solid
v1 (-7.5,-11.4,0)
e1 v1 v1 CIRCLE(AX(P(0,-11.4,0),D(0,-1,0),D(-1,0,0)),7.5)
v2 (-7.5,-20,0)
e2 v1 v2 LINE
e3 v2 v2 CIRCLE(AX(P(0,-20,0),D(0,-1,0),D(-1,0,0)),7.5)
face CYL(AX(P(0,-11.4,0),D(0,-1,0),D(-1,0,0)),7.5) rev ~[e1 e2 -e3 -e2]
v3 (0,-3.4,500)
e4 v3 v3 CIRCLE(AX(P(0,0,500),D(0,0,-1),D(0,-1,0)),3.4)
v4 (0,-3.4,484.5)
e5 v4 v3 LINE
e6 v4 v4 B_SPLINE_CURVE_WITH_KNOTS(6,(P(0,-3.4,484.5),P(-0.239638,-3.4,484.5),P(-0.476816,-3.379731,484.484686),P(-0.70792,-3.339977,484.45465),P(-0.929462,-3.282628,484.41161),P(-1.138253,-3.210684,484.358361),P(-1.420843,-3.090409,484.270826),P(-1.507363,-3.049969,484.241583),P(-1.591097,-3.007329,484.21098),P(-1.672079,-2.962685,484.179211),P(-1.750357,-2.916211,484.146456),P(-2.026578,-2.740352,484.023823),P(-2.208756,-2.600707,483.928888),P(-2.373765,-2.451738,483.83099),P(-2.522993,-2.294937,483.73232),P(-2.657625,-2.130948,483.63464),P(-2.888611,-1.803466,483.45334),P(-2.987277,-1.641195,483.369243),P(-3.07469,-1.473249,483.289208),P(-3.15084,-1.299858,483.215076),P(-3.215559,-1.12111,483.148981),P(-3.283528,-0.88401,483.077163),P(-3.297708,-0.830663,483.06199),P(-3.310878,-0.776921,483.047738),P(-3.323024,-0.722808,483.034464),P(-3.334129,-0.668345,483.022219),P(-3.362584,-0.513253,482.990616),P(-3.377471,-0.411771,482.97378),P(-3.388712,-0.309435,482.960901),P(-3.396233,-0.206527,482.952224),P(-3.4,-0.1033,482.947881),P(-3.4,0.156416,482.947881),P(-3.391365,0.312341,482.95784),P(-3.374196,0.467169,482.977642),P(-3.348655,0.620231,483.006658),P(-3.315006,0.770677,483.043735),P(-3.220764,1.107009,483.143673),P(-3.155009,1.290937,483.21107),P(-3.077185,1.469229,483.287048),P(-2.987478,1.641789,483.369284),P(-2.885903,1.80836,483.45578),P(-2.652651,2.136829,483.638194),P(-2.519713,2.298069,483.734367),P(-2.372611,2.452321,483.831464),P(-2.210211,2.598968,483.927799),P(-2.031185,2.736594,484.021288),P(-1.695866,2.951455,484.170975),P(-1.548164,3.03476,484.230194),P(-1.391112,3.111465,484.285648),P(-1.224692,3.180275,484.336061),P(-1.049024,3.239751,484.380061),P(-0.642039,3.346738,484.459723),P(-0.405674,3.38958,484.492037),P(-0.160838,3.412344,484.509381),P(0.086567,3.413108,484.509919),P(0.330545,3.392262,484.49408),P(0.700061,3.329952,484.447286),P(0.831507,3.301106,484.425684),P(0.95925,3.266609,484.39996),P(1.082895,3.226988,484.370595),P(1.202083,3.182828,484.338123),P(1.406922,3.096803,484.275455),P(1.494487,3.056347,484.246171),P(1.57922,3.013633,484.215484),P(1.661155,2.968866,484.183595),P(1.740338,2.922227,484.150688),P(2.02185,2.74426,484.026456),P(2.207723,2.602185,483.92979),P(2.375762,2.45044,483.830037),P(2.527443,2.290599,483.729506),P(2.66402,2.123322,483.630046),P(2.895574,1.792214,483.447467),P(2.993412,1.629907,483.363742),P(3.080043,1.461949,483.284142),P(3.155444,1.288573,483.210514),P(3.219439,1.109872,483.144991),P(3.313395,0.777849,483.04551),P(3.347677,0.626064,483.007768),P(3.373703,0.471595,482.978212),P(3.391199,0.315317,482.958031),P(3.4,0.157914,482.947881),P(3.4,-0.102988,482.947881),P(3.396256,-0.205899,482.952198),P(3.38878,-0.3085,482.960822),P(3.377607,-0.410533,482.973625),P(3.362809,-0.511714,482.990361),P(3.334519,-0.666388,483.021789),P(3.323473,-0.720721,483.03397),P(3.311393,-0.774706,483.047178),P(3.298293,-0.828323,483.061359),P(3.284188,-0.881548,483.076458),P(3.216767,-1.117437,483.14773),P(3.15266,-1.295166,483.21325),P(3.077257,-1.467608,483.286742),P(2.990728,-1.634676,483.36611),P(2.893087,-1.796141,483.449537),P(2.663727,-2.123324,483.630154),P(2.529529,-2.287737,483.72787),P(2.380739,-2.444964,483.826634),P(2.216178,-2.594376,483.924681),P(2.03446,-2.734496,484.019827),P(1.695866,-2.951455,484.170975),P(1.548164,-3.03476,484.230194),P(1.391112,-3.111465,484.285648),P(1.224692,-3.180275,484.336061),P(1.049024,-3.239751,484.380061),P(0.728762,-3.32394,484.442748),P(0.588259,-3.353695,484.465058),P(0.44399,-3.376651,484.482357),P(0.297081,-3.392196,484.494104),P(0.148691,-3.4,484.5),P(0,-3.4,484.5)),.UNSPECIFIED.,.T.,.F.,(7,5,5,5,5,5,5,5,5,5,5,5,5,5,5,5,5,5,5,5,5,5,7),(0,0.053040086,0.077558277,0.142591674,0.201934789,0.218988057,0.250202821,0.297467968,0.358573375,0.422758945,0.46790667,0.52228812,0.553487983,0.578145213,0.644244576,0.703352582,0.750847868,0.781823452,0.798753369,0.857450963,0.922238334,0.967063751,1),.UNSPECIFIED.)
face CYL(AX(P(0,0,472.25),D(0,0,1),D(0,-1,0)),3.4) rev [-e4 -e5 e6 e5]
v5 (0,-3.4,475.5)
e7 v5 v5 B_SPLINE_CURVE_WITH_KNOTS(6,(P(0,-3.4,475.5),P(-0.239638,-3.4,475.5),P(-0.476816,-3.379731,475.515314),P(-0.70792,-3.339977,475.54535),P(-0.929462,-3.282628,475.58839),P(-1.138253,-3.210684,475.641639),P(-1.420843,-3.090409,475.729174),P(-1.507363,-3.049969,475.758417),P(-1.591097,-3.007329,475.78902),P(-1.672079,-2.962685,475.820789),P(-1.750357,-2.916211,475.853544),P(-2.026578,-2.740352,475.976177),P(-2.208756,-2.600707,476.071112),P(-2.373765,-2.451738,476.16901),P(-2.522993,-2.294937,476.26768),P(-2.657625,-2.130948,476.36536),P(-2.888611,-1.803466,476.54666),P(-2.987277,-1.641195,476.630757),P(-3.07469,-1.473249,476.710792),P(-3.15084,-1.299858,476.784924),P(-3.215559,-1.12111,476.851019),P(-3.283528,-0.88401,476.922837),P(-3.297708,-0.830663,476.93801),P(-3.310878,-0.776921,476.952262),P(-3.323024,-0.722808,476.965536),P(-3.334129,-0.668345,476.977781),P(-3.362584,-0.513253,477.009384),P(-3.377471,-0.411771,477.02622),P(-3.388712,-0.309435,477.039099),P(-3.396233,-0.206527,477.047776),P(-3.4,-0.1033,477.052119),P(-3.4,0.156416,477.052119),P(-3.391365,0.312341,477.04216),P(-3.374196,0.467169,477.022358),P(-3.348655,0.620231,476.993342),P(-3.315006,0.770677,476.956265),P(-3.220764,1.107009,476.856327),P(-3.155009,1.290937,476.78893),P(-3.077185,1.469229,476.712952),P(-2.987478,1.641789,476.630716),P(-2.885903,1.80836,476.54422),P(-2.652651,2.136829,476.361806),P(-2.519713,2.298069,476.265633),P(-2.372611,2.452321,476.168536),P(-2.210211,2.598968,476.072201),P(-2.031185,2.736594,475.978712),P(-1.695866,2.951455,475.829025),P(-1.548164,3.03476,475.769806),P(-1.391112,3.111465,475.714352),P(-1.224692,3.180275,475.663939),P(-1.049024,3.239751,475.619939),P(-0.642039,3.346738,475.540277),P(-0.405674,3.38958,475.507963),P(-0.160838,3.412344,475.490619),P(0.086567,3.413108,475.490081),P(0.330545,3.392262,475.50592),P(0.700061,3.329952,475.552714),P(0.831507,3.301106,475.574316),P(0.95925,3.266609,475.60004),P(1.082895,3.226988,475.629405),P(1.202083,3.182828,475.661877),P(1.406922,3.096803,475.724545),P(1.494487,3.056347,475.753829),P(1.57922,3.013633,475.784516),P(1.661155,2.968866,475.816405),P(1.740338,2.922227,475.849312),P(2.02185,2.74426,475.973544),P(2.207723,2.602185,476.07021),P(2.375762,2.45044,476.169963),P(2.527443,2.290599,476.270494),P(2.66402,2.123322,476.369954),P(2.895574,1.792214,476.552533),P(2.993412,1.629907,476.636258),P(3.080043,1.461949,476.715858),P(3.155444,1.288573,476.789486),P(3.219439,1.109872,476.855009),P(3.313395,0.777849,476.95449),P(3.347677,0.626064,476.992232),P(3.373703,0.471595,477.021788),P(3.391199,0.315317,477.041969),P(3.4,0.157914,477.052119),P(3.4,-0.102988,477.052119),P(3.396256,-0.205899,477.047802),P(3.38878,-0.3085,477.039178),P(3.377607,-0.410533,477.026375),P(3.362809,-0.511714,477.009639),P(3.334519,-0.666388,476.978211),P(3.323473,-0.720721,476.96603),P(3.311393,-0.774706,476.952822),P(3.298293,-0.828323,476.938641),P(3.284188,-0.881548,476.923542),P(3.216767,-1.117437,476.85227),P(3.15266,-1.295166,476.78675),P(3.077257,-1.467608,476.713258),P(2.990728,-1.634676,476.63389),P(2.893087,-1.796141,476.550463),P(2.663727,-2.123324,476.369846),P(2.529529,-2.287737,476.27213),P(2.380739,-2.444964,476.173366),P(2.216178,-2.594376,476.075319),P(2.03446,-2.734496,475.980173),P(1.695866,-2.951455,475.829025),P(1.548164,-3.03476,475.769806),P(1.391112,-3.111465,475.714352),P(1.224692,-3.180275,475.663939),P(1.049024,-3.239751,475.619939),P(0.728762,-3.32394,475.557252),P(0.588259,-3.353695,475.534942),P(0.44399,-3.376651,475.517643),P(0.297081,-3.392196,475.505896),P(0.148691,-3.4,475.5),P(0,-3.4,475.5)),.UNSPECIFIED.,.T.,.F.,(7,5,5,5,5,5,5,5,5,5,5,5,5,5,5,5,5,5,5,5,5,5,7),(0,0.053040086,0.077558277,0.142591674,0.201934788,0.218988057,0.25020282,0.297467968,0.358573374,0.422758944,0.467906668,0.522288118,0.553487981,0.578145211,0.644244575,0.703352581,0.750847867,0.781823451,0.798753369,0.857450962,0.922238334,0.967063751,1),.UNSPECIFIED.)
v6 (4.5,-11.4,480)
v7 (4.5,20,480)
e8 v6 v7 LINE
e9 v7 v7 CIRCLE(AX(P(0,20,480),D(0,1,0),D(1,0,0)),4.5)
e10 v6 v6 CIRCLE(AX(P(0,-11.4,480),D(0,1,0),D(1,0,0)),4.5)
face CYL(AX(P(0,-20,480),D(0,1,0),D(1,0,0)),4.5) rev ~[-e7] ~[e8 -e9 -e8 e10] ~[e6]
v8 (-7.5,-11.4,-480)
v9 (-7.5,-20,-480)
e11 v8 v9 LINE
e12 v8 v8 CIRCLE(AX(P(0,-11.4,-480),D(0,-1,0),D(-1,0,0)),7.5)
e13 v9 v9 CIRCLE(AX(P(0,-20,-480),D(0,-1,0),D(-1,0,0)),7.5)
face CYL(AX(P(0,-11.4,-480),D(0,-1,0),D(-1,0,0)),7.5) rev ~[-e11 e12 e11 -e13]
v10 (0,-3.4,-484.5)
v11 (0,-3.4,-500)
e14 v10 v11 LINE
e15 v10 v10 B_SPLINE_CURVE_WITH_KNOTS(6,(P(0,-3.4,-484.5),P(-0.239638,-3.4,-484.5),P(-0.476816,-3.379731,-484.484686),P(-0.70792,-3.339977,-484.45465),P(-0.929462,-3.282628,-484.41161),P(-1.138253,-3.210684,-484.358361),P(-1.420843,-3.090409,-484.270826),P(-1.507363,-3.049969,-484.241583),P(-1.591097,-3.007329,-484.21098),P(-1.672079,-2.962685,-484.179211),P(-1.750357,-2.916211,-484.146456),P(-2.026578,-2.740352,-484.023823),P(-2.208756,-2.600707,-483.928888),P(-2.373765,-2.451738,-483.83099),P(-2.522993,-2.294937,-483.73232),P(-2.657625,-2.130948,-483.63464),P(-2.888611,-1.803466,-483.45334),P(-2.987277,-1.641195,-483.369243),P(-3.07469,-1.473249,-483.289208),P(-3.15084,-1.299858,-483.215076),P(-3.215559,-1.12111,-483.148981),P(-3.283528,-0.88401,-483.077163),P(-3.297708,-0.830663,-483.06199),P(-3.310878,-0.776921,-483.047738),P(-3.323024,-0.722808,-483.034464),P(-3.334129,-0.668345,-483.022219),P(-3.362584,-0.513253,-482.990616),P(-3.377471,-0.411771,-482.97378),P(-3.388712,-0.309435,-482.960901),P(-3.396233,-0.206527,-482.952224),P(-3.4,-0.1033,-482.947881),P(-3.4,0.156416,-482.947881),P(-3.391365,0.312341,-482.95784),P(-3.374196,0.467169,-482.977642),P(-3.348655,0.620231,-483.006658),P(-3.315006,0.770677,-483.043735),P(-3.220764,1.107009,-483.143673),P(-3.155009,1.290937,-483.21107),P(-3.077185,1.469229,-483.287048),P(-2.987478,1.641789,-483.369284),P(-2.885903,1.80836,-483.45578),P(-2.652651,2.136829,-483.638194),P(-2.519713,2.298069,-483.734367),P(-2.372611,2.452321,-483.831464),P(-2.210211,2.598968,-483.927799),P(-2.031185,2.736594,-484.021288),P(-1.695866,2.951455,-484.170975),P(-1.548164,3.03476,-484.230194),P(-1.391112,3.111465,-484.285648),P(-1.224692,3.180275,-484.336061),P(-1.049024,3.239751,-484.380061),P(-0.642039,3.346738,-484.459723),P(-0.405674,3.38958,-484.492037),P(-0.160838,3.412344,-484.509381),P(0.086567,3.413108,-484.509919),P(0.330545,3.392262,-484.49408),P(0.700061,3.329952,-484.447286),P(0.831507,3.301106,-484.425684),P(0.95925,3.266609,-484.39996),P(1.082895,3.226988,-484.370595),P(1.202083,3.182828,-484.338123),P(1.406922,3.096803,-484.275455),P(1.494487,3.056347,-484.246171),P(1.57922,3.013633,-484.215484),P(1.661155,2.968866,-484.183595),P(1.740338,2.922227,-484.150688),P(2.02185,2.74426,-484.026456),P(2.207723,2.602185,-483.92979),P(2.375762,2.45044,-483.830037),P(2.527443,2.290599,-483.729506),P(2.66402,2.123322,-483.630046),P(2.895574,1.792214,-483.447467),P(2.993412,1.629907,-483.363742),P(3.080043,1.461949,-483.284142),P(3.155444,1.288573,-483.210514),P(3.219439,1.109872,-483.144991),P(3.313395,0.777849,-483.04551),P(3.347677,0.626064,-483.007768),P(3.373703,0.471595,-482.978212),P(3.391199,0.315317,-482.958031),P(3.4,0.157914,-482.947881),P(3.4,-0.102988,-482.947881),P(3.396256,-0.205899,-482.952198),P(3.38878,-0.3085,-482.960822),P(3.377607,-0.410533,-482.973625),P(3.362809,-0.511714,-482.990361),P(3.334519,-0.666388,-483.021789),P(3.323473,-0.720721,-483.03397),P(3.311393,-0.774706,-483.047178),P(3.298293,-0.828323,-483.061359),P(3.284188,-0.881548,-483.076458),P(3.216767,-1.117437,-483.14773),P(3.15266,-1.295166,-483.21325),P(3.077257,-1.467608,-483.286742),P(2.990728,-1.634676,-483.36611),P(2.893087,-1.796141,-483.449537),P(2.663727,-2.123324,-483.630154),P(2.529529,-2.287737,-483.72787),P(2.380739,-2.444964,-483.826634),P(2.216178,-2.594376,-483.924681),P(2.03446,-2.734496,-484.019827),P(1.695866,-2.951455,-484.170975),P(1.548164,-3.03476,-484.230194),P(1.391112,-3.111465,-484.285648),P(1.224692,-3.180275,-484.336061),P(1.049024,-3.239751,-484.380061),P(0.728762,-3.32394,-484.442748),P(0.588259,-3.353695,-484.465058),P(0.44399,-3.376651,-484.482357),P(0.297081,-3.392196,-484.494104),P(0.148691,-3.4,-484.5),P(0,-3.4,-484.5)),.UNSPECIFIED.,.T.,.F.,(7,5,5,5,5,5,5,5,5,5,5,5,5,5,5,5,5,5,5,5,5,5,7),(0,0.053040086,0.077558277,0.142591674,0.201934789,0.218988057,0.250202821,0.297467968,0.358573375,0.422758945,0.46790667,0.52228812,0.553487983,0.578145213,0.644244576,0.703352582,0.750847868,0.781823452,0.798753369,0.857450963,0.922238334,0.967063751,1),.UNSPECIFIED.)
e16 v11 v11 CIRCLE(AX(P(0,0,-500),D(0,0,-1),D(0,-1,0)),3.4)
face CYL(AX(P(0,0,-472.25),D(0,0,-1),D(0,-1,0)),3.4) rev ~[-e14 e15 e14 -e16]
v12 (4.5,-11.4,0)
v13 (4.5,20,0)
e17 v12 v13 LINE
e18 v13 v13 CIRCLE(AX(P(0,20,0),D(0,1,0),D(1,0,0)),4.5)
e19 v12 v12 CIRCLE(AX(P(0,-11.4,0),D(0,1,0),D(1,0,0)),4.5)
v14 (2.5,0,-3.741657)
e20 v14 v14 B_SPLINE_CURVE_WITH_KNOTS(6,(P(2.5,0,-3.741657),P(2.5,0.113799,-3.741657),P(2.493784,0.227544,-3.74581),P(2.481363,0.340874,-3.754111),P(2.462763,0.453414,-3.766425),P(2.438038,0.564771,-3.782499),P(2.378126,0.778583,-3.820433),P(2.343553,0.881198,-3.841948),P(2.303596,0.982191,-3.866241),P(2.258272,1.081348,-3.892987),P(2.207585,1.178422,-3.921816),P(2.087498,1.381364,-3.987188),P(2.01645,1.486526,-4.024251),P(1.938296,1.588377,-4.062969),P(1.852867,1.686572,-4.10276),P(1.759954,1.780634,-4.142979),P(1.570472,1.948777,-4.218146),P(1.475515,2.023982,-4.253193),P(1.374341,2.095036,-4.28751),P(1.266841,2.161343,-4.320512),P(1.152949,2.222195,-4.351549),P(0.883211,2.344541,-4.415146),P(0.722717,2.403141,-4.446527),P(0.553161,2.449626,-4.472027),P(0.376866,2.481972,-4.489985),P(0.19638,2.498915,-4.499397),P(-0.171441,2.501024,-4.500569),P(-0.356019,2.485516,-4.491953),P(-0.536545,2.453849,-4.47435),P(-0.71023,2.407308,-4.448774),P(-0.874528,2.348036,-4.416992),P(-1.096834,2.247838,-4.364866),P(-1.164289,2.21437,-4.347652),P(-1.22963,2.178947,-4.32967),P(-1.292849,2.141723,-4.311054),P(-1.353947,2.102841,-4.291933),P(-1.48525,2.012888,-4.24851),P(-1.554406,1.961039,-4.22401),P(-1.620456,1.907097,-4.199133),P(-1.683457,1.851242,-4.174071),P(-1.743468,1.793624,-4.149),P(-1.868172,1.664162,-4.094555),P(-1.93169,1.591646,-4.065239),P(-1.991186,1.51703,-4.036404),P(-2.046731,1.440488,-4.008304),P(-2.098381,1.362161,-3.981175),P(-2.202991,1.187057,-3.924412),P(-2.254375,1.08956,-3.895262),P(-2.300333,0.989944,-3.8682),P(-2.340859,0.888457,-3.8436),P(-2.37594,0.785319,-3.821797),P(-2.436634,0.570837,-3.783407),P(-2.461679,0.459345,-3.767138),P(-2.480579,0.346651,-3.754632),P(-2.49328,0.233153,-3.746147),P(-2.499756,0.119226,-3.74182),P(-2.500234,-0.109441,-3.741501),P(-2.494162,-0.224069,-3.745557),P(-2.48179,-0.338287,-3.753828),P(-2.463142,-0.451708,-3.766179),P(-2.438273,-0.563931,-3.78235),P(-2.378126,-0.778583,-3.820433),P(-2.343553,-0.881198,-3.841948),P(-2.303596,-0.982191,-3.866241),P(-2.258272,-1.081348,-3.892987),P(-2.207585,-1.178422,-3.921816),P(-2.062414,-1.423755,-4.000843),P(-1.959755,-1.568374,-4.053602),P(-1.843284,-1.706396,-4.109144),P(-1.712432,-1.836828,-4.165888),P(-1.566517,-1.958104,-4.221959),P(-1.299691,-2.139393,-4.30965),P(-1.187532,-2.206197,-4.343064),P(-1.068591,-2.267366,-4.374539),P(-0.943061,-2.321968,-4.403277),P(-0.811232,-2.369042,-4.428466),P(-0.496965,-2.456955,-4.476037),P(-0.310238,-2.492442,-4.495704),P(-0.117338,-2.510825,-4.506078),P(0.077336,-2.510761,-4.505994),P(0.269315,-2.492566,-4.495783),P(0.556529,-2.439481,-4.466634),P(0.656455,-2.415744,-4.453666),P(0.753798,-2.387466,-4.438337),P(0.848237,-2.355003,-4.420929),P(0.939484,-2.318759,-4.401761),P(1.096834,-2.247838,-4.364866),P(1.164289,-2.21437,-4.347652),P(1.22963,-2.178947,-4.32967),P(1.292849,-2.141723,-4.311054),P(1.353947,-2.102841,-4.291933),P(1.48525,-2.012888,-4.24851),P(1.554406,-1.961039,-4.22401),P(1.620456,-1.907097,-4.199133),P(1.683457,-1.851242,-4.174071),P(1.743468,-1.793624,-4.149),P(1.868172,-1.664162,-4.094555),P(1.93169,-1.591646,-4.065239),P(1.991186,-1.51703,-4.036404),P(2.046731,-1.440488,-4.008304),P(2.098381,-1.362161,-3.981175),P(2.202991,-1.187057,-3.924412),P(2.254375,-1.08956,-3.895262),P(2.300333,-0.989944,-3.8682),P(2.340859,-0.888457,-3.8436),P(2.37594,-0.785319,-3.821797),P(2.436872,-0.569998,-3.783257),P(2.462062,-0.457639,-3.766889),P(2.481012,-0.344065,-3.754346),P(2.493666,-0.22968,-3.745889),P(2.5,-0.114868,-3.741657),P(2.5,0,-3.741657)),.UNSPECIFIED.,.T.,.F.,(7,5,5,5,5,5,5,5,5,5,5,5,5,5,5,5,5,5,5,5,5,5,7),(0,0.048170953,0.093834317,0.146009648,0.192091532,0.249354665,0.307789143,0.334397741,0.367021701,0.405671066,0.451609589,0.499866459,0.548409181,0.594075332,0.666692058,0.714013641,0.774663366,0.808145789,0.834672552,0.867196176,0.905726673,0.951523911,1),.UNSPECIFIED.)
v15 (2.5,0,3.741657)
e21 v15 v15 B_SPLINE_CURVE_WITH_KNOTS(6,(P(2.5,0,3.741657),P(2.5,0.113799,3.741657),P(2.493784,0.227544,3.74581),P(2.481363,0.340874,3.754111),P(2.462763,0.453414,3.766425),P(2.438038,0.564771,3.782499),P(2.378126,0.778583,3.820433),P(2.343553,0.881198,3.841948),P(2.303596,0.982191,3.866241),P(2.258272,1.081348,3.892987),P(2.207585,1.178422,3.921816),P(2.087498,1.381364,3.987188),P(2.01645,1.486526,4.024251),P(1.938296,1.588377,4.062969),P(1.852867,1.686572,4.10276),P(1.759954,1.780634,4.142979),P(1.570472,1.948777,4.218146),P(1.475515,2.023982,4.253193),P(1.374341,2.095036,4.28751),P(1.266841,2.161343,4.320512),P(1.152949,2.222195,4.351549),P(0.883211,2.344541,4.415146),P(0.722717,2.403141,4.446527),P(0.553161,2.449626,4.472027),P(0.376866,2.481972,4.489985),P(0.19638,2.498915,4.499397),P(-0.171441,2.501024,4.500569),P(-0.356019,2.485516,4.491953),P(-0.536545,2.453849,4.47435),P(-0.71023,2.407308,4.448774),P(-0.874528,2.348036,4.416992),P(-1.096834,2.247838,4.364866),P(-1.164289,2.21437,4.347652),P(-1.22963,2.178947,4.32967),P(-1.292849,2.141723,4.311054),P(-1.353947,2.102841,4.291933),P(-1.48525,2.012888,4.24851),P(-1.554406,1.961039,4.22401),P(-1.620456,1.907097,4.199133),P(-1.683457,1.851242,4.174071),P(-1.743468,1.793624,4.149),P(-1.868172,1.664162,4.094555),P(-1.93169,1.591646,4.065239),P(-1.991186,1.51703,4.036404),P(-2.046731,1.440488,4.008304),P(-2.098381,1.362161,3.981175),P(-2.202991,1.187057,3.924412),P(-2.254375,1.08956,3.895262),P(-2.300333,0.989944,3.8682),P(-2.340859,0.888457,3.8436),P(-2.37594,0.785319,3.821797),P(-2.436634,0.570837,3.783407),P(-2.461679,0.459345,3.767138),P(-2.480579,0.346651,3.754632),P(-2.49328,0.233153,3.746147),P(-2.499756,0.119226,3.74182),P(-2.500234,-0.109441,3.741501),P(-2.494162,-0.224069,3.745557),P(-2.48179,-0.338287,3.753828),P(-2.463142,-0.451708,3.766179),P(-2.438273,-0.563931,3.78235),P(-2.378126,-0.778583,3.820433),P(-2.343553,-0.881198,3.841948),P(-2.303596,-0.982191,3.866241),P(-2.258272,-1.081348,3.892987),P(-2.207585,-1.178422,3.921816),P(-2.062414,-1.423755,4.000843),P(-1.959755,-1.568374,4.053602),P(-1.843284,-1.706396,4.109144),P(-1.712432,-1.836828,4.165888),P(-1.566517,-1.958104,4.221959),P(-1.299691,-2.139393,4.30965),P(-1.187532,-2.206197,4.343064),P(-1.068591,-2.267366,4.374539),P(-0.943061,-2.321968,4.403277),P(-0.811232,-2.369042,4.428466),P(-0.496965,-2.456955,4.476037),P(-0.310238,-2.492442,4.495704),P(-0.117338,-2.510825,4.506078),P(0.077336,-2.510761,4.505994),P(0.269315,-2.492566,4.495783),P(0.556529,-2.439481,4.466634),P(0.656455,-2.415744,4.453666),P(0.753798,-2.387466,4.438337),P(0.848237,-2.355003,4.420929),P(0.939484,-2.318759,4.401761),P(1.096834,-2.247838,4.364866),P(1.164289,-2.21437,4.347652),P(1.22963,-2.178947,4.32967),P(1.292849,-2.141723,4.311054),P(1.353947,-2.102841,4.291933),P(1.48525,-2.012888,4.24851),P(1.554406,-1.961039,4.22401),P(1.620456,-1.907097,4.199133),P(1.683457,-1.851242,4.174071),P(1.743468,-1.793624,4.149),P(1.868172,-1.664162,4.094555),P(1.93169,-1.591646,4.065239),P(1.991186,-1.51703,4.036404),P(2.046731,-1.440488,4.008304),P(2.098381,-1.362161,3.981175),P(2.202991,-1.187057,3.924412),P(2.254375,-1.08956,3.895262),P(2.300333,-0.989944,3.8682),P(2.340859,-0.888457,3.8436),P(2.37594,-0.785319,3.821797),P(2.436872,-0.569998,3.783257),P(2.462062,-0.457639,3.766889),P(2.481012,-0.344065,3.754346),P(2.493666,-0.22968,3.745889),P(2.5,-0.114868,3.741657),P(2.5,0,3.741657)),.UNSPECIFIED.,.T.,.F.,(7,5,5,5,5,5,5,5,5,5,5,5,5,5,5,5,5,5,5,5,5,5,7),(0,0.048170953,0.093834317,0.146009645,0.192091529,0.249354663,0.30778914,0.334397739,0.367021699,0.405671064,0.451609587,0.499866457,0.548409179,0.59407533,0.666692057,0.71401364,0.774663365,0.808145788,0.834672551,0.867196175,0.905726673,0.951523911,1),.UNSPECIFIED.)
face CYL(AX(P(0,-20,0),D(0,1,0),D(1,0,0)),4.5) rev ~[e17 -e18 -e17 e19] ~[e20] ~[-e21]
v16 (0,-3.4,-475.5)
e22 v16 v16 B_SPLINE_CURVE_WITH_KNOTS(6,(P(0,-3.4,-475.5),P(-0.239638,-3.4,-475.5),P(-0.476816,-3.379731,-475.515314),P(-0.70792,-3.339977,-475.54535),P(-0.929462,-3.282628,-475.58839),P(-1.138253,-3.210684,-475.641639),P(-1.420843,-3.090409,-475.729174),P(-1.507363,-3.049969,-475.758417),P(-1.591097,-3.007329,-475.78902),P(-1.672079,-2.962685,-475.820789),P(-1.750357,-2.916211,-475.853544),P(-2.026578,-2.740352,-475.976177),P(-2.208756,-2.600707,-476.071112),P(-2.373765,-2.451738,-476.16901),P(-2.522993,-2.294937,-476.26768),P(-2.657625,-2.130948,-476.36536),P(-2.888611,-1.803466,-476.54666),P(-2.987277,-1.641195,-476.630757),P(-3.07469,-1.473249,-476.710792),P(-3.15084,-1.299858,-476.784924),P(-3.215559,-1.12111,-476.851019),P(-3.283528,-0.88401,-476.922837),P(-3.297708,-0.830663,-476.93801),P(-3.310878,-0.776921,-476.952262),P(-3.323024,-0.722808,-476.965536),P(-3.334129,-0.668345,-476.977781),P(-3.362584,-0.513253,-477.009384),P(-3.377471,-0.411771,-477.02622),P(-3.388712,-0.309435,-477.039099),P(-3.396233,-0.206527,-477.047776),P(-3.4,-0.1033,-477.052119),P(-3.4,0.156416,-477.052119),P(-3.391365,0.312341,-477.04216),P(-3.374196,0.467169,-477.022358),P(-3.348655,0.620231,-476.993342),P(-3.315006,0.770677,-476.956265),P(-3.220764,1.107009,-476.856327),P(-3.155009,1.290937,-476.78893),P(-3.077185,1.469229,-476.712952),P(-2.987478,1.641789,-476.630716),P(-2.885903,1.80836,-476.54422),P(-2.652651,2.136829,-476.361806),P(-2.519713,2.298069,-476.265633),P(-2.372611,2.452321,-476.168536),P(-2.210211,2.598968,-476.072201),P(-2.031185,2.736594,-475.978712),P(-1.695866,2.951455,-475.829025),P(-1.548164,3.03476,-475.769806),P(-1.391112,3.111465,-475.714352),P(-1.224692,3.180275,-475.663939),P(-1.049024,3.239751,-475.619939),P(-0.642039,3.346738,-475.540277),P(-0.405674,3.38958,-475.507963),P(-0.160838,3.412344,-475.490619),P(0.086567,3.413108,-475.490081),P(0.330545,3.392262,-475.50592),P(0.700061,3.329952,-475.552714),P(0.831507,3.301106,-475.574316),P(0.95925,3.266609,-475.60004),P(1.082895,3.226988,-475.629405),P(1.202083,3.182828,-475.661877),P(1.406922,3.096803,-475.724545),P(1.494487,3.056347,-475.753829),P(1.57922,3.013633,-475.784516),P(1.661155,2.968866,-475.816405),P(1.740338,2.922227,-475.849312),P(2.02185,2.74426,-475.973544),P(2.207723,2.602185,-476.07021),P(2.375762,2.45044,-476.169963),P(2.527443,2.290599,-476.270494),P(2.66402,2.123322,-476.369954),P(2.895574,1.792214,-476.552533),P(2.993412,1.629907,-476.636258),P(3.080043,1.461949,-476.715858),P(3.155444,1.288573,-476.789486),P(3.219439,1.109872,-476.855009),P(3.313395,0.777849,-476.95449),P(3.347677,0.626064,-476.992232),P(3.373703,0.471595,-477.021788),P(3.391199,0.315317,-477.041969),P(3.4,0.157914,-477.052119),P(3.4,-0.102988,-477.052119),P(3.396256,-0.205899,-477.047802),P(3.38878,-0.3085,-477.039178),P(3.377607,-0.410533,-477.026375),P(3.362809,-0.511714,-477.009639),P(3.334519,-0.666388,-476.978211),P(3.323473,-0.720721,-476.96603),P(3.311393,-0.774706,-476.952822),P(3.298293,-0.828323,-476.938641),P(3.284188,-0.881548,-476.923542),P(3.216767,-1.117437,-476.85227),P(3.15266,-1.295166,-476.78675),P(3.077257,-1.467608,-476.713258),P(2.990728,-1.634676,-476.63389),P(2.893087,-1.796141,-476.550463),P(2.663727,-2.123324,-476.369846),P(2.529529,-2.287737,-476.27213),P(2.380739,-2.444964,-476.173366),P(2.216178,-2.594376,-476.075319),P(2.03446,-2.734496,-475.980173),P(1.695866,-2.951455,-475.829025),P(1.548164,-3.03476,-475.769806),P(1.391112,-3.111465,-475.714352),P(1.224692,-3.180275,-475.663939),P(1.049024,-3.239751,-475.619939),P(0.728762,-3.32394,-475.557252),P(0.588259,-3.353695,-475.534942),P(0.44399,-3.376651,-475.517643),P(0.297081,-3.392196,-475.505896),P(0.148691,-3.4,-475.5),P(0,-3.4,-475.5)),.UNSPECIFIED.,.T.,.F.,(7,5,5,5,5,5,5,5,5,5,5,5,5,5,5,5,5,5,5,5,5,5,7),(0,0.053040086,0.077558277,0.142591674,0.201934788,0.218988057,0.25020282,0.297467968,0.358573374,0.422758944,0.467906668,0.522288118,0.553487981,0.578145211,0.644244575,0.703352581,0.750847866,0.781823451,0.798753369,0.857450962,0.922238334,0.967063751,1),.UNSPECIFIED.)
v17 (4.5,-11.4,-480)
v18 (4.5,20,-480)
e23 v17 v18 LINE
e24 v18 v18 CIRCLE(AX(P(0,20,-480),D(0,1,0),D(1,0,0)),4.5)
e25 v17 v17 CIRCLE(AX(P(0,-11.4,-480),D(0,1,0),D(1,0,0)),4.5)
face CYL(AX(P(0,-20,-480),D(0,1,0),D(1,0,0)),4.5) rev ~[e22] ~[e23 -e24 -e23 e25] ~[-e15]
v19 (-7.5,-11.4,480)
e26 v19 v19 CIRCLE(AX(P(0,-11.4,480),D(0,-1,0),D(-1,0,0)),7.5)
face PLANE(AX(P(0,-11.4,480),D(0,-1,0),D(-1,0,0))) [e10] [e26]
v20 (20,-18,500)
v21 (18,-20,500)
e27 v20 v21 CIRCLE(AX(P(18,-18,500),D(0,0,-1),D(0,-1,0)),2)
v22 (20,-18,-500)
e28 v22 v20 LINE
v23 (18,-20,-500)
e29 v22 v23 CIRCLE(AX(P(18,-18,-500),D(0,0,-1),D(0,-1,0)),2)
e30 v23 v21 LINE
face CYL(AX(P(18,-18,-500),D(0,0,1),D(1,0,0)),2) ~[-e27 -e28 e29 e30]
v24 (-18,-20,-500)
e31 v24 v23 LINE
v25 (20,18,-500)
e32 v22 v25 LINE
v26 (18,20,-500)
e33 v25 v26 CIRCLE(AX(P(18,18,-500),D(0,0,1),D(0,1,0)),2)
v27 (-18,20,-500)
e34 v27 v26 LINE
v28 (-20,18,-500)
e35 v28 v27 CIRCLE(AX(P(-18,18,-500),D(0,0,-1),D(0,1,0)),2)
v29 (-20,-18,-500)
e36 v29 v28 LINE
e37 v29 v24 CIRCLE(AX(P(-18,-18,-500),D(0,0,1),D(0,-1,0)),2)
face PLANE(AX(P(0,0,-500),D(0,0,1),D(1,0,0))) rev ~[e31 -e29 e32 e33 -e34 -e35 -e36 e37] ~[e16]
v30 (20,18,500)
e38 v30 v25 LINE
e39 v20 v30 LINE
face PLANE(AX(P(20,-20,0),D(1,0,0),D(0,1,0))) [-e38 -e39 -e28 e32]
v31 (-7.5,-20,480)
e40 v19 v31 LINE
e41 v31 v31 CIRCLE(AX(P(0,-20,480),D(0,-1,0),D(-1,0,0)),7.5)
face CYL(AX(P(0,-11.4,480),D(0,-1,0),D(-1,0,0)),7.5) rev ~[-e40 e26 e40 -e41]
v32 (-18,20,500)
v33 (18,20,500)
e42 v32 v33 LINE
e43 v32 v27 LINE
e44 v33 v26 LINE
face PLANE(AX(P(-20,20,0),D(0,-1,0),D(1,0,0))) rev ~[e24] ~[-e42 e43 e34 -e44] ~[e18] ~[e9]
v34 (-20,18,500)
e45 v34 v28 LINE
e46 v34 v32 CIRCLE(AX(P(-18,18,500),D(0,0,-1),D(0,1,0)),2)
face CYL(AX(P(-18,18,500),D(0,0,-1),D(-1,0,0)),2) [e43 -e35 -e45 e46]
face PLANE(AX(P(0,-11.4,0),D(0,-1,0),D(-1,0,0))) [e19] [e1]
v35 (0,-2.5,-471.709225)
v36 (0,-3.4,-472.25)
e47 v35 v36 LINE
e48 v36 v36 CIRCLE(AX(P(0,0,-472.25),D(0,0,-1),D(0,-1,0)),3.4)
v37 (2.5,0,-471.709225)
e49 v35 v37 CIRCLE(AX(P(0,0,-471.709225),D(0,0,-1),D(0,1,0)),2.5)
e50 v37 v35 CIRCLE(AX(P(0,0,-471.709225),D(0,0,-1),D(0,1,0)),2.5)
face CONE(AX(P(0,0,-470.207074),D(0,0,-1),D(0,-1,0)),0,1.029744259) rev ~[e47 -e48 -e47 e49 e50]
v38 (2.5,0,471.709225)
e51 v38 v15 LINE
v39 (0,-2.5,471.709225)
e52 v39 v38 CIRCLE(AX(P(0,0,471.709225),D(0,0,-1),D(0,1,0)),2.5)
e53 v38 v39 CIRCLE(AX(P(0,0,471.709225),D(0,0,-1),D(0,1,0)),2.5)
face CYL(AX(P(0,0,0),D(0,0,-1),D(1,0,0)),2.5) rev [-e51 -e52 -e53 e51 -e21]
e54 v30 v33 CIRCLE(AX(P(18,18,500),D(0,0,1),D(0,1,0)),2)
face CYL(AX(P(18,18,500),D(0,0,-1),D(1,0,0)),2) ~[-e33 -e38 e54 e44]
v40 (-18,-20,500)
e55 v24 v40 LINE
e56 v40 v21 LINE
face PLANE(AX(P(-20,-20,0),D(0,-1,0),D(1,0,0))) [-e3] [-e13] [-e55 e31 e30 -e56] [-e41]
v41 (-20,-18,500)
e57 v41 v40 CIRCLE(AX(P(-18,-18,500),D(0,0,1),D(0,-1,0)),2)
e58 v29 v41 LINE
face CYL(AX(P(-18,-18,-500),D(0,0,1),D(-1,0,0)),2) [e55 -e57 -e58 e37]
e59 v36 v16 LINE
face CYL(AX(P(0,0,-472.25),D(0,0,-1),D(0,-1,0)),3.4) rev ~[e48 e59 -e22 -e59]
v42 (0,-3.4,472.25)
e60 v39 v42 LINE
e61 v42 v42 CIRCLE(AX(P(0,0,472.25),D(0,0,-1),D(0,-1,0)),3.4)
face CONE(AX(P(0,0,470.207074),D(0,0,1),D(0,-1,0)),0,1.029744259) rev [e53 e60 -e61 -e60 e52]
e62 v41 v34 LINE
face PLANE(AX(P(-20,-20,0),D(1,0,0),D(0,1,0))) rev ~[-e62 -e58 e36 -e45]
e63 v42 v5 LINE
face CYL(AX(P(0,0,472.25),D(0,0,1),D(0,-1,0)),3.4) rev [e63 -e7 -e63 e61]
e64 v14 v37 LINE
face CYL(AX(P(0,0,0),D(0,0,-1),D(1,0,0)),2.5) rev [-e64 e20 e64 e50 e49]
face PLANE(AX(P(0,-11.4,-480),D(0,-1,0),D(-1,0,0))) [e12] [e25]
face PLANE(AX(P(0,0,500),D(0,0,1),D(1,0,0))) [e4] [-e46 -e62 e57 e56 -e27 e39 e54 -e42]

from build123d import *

# Parameters (mm, degrees)
SKETCH1_W                                           = 40
SKETCH1_H                                           = 40
SKETCH1_R                                           = 2.5
BOSS_EXTRUDE1_DEPTH                                 = 500
FILLET1_R                                           = 2
CBORE_FOR_M8_HEX_SOCKET_HEAD_CAP_SCREW1_D           = 9
CBORE_FOR_M8_HEX_SOCKET_HEAD_CAP_SCREW1_CBORE_D     = 15
CBORE_FOR_M8_HEX_SOCKET_HEAD_CAP_SCREW1_CBORE_DEPTH = 8.6


with BuildPart() as part:
    # Sketch1 → Boss-Extrude1 (new, symmetric)
    with BuildSketch(Plane.XY):
        Rectangle(SKETCH1_W, SKETCH1_H)
        Circle(SKETCH1_R, mode=Mode.SUBTRACT)
    extrude(amount=BOSS_EXTRUDE1_DEPTH, both=True)

    # Fillet1
    fillet1_edges = [part.edges().sort_by_distance(p)[0] for p in [
        (20, -20, 0),
        (-20, -20, 0),
        (-20, 20, 0),
        (20, 20, 0),
    ]]
    fillet(fillet1_edges, radius=FILLET1_R)

    # CBORE for M8 Hex Socket Head Cap Screw1 (through all)
    with Locations(Plane(origin=(0, -20, 0), x_dir=(-1, 0, 0), z_dir=(0, -1, 0))):
        with Locations((0, -480), (0, 0), (0, 480)):
            CounterBoreHole(CBORE_FOR_M8_HEX_SOCKET_HEAD_CAP_SCREW1_D / 2, CBORE_FOR_M8_HEX_SOCKET_HEAD_CAP_SCREW1_CBORE_D / 2, CBORE_FOR_M8_HEX_SOCKET_HEAD_CAP_SCREW1_CBORE_DEPTH)

    # Sketch9 → M8x1.25 Tapped Hole1 (revolve, cut)
    with BuildSketch(Plane(origin=(0, 0, 500), x_dir=(0, -1, 0), z_dir=(1, 0, 0))):
        Polygon((0, 0), (0, 29.792926105), (3.4, 27.75), (3.4, 0), align=None)
    m8x1_25_tapped_hole1 = revolve(axis=Axis((0, 0, 506.35), (0, 0, -1)), mode=Mode.SUBTRACT)

    # Mirror1: M8x1.25 Tapped Hole1 across plane
    add(m8x1_25_tapped_hole1.mirror(Plane.XY), mode=Mode.SUBTRACT)


solid = part.part
